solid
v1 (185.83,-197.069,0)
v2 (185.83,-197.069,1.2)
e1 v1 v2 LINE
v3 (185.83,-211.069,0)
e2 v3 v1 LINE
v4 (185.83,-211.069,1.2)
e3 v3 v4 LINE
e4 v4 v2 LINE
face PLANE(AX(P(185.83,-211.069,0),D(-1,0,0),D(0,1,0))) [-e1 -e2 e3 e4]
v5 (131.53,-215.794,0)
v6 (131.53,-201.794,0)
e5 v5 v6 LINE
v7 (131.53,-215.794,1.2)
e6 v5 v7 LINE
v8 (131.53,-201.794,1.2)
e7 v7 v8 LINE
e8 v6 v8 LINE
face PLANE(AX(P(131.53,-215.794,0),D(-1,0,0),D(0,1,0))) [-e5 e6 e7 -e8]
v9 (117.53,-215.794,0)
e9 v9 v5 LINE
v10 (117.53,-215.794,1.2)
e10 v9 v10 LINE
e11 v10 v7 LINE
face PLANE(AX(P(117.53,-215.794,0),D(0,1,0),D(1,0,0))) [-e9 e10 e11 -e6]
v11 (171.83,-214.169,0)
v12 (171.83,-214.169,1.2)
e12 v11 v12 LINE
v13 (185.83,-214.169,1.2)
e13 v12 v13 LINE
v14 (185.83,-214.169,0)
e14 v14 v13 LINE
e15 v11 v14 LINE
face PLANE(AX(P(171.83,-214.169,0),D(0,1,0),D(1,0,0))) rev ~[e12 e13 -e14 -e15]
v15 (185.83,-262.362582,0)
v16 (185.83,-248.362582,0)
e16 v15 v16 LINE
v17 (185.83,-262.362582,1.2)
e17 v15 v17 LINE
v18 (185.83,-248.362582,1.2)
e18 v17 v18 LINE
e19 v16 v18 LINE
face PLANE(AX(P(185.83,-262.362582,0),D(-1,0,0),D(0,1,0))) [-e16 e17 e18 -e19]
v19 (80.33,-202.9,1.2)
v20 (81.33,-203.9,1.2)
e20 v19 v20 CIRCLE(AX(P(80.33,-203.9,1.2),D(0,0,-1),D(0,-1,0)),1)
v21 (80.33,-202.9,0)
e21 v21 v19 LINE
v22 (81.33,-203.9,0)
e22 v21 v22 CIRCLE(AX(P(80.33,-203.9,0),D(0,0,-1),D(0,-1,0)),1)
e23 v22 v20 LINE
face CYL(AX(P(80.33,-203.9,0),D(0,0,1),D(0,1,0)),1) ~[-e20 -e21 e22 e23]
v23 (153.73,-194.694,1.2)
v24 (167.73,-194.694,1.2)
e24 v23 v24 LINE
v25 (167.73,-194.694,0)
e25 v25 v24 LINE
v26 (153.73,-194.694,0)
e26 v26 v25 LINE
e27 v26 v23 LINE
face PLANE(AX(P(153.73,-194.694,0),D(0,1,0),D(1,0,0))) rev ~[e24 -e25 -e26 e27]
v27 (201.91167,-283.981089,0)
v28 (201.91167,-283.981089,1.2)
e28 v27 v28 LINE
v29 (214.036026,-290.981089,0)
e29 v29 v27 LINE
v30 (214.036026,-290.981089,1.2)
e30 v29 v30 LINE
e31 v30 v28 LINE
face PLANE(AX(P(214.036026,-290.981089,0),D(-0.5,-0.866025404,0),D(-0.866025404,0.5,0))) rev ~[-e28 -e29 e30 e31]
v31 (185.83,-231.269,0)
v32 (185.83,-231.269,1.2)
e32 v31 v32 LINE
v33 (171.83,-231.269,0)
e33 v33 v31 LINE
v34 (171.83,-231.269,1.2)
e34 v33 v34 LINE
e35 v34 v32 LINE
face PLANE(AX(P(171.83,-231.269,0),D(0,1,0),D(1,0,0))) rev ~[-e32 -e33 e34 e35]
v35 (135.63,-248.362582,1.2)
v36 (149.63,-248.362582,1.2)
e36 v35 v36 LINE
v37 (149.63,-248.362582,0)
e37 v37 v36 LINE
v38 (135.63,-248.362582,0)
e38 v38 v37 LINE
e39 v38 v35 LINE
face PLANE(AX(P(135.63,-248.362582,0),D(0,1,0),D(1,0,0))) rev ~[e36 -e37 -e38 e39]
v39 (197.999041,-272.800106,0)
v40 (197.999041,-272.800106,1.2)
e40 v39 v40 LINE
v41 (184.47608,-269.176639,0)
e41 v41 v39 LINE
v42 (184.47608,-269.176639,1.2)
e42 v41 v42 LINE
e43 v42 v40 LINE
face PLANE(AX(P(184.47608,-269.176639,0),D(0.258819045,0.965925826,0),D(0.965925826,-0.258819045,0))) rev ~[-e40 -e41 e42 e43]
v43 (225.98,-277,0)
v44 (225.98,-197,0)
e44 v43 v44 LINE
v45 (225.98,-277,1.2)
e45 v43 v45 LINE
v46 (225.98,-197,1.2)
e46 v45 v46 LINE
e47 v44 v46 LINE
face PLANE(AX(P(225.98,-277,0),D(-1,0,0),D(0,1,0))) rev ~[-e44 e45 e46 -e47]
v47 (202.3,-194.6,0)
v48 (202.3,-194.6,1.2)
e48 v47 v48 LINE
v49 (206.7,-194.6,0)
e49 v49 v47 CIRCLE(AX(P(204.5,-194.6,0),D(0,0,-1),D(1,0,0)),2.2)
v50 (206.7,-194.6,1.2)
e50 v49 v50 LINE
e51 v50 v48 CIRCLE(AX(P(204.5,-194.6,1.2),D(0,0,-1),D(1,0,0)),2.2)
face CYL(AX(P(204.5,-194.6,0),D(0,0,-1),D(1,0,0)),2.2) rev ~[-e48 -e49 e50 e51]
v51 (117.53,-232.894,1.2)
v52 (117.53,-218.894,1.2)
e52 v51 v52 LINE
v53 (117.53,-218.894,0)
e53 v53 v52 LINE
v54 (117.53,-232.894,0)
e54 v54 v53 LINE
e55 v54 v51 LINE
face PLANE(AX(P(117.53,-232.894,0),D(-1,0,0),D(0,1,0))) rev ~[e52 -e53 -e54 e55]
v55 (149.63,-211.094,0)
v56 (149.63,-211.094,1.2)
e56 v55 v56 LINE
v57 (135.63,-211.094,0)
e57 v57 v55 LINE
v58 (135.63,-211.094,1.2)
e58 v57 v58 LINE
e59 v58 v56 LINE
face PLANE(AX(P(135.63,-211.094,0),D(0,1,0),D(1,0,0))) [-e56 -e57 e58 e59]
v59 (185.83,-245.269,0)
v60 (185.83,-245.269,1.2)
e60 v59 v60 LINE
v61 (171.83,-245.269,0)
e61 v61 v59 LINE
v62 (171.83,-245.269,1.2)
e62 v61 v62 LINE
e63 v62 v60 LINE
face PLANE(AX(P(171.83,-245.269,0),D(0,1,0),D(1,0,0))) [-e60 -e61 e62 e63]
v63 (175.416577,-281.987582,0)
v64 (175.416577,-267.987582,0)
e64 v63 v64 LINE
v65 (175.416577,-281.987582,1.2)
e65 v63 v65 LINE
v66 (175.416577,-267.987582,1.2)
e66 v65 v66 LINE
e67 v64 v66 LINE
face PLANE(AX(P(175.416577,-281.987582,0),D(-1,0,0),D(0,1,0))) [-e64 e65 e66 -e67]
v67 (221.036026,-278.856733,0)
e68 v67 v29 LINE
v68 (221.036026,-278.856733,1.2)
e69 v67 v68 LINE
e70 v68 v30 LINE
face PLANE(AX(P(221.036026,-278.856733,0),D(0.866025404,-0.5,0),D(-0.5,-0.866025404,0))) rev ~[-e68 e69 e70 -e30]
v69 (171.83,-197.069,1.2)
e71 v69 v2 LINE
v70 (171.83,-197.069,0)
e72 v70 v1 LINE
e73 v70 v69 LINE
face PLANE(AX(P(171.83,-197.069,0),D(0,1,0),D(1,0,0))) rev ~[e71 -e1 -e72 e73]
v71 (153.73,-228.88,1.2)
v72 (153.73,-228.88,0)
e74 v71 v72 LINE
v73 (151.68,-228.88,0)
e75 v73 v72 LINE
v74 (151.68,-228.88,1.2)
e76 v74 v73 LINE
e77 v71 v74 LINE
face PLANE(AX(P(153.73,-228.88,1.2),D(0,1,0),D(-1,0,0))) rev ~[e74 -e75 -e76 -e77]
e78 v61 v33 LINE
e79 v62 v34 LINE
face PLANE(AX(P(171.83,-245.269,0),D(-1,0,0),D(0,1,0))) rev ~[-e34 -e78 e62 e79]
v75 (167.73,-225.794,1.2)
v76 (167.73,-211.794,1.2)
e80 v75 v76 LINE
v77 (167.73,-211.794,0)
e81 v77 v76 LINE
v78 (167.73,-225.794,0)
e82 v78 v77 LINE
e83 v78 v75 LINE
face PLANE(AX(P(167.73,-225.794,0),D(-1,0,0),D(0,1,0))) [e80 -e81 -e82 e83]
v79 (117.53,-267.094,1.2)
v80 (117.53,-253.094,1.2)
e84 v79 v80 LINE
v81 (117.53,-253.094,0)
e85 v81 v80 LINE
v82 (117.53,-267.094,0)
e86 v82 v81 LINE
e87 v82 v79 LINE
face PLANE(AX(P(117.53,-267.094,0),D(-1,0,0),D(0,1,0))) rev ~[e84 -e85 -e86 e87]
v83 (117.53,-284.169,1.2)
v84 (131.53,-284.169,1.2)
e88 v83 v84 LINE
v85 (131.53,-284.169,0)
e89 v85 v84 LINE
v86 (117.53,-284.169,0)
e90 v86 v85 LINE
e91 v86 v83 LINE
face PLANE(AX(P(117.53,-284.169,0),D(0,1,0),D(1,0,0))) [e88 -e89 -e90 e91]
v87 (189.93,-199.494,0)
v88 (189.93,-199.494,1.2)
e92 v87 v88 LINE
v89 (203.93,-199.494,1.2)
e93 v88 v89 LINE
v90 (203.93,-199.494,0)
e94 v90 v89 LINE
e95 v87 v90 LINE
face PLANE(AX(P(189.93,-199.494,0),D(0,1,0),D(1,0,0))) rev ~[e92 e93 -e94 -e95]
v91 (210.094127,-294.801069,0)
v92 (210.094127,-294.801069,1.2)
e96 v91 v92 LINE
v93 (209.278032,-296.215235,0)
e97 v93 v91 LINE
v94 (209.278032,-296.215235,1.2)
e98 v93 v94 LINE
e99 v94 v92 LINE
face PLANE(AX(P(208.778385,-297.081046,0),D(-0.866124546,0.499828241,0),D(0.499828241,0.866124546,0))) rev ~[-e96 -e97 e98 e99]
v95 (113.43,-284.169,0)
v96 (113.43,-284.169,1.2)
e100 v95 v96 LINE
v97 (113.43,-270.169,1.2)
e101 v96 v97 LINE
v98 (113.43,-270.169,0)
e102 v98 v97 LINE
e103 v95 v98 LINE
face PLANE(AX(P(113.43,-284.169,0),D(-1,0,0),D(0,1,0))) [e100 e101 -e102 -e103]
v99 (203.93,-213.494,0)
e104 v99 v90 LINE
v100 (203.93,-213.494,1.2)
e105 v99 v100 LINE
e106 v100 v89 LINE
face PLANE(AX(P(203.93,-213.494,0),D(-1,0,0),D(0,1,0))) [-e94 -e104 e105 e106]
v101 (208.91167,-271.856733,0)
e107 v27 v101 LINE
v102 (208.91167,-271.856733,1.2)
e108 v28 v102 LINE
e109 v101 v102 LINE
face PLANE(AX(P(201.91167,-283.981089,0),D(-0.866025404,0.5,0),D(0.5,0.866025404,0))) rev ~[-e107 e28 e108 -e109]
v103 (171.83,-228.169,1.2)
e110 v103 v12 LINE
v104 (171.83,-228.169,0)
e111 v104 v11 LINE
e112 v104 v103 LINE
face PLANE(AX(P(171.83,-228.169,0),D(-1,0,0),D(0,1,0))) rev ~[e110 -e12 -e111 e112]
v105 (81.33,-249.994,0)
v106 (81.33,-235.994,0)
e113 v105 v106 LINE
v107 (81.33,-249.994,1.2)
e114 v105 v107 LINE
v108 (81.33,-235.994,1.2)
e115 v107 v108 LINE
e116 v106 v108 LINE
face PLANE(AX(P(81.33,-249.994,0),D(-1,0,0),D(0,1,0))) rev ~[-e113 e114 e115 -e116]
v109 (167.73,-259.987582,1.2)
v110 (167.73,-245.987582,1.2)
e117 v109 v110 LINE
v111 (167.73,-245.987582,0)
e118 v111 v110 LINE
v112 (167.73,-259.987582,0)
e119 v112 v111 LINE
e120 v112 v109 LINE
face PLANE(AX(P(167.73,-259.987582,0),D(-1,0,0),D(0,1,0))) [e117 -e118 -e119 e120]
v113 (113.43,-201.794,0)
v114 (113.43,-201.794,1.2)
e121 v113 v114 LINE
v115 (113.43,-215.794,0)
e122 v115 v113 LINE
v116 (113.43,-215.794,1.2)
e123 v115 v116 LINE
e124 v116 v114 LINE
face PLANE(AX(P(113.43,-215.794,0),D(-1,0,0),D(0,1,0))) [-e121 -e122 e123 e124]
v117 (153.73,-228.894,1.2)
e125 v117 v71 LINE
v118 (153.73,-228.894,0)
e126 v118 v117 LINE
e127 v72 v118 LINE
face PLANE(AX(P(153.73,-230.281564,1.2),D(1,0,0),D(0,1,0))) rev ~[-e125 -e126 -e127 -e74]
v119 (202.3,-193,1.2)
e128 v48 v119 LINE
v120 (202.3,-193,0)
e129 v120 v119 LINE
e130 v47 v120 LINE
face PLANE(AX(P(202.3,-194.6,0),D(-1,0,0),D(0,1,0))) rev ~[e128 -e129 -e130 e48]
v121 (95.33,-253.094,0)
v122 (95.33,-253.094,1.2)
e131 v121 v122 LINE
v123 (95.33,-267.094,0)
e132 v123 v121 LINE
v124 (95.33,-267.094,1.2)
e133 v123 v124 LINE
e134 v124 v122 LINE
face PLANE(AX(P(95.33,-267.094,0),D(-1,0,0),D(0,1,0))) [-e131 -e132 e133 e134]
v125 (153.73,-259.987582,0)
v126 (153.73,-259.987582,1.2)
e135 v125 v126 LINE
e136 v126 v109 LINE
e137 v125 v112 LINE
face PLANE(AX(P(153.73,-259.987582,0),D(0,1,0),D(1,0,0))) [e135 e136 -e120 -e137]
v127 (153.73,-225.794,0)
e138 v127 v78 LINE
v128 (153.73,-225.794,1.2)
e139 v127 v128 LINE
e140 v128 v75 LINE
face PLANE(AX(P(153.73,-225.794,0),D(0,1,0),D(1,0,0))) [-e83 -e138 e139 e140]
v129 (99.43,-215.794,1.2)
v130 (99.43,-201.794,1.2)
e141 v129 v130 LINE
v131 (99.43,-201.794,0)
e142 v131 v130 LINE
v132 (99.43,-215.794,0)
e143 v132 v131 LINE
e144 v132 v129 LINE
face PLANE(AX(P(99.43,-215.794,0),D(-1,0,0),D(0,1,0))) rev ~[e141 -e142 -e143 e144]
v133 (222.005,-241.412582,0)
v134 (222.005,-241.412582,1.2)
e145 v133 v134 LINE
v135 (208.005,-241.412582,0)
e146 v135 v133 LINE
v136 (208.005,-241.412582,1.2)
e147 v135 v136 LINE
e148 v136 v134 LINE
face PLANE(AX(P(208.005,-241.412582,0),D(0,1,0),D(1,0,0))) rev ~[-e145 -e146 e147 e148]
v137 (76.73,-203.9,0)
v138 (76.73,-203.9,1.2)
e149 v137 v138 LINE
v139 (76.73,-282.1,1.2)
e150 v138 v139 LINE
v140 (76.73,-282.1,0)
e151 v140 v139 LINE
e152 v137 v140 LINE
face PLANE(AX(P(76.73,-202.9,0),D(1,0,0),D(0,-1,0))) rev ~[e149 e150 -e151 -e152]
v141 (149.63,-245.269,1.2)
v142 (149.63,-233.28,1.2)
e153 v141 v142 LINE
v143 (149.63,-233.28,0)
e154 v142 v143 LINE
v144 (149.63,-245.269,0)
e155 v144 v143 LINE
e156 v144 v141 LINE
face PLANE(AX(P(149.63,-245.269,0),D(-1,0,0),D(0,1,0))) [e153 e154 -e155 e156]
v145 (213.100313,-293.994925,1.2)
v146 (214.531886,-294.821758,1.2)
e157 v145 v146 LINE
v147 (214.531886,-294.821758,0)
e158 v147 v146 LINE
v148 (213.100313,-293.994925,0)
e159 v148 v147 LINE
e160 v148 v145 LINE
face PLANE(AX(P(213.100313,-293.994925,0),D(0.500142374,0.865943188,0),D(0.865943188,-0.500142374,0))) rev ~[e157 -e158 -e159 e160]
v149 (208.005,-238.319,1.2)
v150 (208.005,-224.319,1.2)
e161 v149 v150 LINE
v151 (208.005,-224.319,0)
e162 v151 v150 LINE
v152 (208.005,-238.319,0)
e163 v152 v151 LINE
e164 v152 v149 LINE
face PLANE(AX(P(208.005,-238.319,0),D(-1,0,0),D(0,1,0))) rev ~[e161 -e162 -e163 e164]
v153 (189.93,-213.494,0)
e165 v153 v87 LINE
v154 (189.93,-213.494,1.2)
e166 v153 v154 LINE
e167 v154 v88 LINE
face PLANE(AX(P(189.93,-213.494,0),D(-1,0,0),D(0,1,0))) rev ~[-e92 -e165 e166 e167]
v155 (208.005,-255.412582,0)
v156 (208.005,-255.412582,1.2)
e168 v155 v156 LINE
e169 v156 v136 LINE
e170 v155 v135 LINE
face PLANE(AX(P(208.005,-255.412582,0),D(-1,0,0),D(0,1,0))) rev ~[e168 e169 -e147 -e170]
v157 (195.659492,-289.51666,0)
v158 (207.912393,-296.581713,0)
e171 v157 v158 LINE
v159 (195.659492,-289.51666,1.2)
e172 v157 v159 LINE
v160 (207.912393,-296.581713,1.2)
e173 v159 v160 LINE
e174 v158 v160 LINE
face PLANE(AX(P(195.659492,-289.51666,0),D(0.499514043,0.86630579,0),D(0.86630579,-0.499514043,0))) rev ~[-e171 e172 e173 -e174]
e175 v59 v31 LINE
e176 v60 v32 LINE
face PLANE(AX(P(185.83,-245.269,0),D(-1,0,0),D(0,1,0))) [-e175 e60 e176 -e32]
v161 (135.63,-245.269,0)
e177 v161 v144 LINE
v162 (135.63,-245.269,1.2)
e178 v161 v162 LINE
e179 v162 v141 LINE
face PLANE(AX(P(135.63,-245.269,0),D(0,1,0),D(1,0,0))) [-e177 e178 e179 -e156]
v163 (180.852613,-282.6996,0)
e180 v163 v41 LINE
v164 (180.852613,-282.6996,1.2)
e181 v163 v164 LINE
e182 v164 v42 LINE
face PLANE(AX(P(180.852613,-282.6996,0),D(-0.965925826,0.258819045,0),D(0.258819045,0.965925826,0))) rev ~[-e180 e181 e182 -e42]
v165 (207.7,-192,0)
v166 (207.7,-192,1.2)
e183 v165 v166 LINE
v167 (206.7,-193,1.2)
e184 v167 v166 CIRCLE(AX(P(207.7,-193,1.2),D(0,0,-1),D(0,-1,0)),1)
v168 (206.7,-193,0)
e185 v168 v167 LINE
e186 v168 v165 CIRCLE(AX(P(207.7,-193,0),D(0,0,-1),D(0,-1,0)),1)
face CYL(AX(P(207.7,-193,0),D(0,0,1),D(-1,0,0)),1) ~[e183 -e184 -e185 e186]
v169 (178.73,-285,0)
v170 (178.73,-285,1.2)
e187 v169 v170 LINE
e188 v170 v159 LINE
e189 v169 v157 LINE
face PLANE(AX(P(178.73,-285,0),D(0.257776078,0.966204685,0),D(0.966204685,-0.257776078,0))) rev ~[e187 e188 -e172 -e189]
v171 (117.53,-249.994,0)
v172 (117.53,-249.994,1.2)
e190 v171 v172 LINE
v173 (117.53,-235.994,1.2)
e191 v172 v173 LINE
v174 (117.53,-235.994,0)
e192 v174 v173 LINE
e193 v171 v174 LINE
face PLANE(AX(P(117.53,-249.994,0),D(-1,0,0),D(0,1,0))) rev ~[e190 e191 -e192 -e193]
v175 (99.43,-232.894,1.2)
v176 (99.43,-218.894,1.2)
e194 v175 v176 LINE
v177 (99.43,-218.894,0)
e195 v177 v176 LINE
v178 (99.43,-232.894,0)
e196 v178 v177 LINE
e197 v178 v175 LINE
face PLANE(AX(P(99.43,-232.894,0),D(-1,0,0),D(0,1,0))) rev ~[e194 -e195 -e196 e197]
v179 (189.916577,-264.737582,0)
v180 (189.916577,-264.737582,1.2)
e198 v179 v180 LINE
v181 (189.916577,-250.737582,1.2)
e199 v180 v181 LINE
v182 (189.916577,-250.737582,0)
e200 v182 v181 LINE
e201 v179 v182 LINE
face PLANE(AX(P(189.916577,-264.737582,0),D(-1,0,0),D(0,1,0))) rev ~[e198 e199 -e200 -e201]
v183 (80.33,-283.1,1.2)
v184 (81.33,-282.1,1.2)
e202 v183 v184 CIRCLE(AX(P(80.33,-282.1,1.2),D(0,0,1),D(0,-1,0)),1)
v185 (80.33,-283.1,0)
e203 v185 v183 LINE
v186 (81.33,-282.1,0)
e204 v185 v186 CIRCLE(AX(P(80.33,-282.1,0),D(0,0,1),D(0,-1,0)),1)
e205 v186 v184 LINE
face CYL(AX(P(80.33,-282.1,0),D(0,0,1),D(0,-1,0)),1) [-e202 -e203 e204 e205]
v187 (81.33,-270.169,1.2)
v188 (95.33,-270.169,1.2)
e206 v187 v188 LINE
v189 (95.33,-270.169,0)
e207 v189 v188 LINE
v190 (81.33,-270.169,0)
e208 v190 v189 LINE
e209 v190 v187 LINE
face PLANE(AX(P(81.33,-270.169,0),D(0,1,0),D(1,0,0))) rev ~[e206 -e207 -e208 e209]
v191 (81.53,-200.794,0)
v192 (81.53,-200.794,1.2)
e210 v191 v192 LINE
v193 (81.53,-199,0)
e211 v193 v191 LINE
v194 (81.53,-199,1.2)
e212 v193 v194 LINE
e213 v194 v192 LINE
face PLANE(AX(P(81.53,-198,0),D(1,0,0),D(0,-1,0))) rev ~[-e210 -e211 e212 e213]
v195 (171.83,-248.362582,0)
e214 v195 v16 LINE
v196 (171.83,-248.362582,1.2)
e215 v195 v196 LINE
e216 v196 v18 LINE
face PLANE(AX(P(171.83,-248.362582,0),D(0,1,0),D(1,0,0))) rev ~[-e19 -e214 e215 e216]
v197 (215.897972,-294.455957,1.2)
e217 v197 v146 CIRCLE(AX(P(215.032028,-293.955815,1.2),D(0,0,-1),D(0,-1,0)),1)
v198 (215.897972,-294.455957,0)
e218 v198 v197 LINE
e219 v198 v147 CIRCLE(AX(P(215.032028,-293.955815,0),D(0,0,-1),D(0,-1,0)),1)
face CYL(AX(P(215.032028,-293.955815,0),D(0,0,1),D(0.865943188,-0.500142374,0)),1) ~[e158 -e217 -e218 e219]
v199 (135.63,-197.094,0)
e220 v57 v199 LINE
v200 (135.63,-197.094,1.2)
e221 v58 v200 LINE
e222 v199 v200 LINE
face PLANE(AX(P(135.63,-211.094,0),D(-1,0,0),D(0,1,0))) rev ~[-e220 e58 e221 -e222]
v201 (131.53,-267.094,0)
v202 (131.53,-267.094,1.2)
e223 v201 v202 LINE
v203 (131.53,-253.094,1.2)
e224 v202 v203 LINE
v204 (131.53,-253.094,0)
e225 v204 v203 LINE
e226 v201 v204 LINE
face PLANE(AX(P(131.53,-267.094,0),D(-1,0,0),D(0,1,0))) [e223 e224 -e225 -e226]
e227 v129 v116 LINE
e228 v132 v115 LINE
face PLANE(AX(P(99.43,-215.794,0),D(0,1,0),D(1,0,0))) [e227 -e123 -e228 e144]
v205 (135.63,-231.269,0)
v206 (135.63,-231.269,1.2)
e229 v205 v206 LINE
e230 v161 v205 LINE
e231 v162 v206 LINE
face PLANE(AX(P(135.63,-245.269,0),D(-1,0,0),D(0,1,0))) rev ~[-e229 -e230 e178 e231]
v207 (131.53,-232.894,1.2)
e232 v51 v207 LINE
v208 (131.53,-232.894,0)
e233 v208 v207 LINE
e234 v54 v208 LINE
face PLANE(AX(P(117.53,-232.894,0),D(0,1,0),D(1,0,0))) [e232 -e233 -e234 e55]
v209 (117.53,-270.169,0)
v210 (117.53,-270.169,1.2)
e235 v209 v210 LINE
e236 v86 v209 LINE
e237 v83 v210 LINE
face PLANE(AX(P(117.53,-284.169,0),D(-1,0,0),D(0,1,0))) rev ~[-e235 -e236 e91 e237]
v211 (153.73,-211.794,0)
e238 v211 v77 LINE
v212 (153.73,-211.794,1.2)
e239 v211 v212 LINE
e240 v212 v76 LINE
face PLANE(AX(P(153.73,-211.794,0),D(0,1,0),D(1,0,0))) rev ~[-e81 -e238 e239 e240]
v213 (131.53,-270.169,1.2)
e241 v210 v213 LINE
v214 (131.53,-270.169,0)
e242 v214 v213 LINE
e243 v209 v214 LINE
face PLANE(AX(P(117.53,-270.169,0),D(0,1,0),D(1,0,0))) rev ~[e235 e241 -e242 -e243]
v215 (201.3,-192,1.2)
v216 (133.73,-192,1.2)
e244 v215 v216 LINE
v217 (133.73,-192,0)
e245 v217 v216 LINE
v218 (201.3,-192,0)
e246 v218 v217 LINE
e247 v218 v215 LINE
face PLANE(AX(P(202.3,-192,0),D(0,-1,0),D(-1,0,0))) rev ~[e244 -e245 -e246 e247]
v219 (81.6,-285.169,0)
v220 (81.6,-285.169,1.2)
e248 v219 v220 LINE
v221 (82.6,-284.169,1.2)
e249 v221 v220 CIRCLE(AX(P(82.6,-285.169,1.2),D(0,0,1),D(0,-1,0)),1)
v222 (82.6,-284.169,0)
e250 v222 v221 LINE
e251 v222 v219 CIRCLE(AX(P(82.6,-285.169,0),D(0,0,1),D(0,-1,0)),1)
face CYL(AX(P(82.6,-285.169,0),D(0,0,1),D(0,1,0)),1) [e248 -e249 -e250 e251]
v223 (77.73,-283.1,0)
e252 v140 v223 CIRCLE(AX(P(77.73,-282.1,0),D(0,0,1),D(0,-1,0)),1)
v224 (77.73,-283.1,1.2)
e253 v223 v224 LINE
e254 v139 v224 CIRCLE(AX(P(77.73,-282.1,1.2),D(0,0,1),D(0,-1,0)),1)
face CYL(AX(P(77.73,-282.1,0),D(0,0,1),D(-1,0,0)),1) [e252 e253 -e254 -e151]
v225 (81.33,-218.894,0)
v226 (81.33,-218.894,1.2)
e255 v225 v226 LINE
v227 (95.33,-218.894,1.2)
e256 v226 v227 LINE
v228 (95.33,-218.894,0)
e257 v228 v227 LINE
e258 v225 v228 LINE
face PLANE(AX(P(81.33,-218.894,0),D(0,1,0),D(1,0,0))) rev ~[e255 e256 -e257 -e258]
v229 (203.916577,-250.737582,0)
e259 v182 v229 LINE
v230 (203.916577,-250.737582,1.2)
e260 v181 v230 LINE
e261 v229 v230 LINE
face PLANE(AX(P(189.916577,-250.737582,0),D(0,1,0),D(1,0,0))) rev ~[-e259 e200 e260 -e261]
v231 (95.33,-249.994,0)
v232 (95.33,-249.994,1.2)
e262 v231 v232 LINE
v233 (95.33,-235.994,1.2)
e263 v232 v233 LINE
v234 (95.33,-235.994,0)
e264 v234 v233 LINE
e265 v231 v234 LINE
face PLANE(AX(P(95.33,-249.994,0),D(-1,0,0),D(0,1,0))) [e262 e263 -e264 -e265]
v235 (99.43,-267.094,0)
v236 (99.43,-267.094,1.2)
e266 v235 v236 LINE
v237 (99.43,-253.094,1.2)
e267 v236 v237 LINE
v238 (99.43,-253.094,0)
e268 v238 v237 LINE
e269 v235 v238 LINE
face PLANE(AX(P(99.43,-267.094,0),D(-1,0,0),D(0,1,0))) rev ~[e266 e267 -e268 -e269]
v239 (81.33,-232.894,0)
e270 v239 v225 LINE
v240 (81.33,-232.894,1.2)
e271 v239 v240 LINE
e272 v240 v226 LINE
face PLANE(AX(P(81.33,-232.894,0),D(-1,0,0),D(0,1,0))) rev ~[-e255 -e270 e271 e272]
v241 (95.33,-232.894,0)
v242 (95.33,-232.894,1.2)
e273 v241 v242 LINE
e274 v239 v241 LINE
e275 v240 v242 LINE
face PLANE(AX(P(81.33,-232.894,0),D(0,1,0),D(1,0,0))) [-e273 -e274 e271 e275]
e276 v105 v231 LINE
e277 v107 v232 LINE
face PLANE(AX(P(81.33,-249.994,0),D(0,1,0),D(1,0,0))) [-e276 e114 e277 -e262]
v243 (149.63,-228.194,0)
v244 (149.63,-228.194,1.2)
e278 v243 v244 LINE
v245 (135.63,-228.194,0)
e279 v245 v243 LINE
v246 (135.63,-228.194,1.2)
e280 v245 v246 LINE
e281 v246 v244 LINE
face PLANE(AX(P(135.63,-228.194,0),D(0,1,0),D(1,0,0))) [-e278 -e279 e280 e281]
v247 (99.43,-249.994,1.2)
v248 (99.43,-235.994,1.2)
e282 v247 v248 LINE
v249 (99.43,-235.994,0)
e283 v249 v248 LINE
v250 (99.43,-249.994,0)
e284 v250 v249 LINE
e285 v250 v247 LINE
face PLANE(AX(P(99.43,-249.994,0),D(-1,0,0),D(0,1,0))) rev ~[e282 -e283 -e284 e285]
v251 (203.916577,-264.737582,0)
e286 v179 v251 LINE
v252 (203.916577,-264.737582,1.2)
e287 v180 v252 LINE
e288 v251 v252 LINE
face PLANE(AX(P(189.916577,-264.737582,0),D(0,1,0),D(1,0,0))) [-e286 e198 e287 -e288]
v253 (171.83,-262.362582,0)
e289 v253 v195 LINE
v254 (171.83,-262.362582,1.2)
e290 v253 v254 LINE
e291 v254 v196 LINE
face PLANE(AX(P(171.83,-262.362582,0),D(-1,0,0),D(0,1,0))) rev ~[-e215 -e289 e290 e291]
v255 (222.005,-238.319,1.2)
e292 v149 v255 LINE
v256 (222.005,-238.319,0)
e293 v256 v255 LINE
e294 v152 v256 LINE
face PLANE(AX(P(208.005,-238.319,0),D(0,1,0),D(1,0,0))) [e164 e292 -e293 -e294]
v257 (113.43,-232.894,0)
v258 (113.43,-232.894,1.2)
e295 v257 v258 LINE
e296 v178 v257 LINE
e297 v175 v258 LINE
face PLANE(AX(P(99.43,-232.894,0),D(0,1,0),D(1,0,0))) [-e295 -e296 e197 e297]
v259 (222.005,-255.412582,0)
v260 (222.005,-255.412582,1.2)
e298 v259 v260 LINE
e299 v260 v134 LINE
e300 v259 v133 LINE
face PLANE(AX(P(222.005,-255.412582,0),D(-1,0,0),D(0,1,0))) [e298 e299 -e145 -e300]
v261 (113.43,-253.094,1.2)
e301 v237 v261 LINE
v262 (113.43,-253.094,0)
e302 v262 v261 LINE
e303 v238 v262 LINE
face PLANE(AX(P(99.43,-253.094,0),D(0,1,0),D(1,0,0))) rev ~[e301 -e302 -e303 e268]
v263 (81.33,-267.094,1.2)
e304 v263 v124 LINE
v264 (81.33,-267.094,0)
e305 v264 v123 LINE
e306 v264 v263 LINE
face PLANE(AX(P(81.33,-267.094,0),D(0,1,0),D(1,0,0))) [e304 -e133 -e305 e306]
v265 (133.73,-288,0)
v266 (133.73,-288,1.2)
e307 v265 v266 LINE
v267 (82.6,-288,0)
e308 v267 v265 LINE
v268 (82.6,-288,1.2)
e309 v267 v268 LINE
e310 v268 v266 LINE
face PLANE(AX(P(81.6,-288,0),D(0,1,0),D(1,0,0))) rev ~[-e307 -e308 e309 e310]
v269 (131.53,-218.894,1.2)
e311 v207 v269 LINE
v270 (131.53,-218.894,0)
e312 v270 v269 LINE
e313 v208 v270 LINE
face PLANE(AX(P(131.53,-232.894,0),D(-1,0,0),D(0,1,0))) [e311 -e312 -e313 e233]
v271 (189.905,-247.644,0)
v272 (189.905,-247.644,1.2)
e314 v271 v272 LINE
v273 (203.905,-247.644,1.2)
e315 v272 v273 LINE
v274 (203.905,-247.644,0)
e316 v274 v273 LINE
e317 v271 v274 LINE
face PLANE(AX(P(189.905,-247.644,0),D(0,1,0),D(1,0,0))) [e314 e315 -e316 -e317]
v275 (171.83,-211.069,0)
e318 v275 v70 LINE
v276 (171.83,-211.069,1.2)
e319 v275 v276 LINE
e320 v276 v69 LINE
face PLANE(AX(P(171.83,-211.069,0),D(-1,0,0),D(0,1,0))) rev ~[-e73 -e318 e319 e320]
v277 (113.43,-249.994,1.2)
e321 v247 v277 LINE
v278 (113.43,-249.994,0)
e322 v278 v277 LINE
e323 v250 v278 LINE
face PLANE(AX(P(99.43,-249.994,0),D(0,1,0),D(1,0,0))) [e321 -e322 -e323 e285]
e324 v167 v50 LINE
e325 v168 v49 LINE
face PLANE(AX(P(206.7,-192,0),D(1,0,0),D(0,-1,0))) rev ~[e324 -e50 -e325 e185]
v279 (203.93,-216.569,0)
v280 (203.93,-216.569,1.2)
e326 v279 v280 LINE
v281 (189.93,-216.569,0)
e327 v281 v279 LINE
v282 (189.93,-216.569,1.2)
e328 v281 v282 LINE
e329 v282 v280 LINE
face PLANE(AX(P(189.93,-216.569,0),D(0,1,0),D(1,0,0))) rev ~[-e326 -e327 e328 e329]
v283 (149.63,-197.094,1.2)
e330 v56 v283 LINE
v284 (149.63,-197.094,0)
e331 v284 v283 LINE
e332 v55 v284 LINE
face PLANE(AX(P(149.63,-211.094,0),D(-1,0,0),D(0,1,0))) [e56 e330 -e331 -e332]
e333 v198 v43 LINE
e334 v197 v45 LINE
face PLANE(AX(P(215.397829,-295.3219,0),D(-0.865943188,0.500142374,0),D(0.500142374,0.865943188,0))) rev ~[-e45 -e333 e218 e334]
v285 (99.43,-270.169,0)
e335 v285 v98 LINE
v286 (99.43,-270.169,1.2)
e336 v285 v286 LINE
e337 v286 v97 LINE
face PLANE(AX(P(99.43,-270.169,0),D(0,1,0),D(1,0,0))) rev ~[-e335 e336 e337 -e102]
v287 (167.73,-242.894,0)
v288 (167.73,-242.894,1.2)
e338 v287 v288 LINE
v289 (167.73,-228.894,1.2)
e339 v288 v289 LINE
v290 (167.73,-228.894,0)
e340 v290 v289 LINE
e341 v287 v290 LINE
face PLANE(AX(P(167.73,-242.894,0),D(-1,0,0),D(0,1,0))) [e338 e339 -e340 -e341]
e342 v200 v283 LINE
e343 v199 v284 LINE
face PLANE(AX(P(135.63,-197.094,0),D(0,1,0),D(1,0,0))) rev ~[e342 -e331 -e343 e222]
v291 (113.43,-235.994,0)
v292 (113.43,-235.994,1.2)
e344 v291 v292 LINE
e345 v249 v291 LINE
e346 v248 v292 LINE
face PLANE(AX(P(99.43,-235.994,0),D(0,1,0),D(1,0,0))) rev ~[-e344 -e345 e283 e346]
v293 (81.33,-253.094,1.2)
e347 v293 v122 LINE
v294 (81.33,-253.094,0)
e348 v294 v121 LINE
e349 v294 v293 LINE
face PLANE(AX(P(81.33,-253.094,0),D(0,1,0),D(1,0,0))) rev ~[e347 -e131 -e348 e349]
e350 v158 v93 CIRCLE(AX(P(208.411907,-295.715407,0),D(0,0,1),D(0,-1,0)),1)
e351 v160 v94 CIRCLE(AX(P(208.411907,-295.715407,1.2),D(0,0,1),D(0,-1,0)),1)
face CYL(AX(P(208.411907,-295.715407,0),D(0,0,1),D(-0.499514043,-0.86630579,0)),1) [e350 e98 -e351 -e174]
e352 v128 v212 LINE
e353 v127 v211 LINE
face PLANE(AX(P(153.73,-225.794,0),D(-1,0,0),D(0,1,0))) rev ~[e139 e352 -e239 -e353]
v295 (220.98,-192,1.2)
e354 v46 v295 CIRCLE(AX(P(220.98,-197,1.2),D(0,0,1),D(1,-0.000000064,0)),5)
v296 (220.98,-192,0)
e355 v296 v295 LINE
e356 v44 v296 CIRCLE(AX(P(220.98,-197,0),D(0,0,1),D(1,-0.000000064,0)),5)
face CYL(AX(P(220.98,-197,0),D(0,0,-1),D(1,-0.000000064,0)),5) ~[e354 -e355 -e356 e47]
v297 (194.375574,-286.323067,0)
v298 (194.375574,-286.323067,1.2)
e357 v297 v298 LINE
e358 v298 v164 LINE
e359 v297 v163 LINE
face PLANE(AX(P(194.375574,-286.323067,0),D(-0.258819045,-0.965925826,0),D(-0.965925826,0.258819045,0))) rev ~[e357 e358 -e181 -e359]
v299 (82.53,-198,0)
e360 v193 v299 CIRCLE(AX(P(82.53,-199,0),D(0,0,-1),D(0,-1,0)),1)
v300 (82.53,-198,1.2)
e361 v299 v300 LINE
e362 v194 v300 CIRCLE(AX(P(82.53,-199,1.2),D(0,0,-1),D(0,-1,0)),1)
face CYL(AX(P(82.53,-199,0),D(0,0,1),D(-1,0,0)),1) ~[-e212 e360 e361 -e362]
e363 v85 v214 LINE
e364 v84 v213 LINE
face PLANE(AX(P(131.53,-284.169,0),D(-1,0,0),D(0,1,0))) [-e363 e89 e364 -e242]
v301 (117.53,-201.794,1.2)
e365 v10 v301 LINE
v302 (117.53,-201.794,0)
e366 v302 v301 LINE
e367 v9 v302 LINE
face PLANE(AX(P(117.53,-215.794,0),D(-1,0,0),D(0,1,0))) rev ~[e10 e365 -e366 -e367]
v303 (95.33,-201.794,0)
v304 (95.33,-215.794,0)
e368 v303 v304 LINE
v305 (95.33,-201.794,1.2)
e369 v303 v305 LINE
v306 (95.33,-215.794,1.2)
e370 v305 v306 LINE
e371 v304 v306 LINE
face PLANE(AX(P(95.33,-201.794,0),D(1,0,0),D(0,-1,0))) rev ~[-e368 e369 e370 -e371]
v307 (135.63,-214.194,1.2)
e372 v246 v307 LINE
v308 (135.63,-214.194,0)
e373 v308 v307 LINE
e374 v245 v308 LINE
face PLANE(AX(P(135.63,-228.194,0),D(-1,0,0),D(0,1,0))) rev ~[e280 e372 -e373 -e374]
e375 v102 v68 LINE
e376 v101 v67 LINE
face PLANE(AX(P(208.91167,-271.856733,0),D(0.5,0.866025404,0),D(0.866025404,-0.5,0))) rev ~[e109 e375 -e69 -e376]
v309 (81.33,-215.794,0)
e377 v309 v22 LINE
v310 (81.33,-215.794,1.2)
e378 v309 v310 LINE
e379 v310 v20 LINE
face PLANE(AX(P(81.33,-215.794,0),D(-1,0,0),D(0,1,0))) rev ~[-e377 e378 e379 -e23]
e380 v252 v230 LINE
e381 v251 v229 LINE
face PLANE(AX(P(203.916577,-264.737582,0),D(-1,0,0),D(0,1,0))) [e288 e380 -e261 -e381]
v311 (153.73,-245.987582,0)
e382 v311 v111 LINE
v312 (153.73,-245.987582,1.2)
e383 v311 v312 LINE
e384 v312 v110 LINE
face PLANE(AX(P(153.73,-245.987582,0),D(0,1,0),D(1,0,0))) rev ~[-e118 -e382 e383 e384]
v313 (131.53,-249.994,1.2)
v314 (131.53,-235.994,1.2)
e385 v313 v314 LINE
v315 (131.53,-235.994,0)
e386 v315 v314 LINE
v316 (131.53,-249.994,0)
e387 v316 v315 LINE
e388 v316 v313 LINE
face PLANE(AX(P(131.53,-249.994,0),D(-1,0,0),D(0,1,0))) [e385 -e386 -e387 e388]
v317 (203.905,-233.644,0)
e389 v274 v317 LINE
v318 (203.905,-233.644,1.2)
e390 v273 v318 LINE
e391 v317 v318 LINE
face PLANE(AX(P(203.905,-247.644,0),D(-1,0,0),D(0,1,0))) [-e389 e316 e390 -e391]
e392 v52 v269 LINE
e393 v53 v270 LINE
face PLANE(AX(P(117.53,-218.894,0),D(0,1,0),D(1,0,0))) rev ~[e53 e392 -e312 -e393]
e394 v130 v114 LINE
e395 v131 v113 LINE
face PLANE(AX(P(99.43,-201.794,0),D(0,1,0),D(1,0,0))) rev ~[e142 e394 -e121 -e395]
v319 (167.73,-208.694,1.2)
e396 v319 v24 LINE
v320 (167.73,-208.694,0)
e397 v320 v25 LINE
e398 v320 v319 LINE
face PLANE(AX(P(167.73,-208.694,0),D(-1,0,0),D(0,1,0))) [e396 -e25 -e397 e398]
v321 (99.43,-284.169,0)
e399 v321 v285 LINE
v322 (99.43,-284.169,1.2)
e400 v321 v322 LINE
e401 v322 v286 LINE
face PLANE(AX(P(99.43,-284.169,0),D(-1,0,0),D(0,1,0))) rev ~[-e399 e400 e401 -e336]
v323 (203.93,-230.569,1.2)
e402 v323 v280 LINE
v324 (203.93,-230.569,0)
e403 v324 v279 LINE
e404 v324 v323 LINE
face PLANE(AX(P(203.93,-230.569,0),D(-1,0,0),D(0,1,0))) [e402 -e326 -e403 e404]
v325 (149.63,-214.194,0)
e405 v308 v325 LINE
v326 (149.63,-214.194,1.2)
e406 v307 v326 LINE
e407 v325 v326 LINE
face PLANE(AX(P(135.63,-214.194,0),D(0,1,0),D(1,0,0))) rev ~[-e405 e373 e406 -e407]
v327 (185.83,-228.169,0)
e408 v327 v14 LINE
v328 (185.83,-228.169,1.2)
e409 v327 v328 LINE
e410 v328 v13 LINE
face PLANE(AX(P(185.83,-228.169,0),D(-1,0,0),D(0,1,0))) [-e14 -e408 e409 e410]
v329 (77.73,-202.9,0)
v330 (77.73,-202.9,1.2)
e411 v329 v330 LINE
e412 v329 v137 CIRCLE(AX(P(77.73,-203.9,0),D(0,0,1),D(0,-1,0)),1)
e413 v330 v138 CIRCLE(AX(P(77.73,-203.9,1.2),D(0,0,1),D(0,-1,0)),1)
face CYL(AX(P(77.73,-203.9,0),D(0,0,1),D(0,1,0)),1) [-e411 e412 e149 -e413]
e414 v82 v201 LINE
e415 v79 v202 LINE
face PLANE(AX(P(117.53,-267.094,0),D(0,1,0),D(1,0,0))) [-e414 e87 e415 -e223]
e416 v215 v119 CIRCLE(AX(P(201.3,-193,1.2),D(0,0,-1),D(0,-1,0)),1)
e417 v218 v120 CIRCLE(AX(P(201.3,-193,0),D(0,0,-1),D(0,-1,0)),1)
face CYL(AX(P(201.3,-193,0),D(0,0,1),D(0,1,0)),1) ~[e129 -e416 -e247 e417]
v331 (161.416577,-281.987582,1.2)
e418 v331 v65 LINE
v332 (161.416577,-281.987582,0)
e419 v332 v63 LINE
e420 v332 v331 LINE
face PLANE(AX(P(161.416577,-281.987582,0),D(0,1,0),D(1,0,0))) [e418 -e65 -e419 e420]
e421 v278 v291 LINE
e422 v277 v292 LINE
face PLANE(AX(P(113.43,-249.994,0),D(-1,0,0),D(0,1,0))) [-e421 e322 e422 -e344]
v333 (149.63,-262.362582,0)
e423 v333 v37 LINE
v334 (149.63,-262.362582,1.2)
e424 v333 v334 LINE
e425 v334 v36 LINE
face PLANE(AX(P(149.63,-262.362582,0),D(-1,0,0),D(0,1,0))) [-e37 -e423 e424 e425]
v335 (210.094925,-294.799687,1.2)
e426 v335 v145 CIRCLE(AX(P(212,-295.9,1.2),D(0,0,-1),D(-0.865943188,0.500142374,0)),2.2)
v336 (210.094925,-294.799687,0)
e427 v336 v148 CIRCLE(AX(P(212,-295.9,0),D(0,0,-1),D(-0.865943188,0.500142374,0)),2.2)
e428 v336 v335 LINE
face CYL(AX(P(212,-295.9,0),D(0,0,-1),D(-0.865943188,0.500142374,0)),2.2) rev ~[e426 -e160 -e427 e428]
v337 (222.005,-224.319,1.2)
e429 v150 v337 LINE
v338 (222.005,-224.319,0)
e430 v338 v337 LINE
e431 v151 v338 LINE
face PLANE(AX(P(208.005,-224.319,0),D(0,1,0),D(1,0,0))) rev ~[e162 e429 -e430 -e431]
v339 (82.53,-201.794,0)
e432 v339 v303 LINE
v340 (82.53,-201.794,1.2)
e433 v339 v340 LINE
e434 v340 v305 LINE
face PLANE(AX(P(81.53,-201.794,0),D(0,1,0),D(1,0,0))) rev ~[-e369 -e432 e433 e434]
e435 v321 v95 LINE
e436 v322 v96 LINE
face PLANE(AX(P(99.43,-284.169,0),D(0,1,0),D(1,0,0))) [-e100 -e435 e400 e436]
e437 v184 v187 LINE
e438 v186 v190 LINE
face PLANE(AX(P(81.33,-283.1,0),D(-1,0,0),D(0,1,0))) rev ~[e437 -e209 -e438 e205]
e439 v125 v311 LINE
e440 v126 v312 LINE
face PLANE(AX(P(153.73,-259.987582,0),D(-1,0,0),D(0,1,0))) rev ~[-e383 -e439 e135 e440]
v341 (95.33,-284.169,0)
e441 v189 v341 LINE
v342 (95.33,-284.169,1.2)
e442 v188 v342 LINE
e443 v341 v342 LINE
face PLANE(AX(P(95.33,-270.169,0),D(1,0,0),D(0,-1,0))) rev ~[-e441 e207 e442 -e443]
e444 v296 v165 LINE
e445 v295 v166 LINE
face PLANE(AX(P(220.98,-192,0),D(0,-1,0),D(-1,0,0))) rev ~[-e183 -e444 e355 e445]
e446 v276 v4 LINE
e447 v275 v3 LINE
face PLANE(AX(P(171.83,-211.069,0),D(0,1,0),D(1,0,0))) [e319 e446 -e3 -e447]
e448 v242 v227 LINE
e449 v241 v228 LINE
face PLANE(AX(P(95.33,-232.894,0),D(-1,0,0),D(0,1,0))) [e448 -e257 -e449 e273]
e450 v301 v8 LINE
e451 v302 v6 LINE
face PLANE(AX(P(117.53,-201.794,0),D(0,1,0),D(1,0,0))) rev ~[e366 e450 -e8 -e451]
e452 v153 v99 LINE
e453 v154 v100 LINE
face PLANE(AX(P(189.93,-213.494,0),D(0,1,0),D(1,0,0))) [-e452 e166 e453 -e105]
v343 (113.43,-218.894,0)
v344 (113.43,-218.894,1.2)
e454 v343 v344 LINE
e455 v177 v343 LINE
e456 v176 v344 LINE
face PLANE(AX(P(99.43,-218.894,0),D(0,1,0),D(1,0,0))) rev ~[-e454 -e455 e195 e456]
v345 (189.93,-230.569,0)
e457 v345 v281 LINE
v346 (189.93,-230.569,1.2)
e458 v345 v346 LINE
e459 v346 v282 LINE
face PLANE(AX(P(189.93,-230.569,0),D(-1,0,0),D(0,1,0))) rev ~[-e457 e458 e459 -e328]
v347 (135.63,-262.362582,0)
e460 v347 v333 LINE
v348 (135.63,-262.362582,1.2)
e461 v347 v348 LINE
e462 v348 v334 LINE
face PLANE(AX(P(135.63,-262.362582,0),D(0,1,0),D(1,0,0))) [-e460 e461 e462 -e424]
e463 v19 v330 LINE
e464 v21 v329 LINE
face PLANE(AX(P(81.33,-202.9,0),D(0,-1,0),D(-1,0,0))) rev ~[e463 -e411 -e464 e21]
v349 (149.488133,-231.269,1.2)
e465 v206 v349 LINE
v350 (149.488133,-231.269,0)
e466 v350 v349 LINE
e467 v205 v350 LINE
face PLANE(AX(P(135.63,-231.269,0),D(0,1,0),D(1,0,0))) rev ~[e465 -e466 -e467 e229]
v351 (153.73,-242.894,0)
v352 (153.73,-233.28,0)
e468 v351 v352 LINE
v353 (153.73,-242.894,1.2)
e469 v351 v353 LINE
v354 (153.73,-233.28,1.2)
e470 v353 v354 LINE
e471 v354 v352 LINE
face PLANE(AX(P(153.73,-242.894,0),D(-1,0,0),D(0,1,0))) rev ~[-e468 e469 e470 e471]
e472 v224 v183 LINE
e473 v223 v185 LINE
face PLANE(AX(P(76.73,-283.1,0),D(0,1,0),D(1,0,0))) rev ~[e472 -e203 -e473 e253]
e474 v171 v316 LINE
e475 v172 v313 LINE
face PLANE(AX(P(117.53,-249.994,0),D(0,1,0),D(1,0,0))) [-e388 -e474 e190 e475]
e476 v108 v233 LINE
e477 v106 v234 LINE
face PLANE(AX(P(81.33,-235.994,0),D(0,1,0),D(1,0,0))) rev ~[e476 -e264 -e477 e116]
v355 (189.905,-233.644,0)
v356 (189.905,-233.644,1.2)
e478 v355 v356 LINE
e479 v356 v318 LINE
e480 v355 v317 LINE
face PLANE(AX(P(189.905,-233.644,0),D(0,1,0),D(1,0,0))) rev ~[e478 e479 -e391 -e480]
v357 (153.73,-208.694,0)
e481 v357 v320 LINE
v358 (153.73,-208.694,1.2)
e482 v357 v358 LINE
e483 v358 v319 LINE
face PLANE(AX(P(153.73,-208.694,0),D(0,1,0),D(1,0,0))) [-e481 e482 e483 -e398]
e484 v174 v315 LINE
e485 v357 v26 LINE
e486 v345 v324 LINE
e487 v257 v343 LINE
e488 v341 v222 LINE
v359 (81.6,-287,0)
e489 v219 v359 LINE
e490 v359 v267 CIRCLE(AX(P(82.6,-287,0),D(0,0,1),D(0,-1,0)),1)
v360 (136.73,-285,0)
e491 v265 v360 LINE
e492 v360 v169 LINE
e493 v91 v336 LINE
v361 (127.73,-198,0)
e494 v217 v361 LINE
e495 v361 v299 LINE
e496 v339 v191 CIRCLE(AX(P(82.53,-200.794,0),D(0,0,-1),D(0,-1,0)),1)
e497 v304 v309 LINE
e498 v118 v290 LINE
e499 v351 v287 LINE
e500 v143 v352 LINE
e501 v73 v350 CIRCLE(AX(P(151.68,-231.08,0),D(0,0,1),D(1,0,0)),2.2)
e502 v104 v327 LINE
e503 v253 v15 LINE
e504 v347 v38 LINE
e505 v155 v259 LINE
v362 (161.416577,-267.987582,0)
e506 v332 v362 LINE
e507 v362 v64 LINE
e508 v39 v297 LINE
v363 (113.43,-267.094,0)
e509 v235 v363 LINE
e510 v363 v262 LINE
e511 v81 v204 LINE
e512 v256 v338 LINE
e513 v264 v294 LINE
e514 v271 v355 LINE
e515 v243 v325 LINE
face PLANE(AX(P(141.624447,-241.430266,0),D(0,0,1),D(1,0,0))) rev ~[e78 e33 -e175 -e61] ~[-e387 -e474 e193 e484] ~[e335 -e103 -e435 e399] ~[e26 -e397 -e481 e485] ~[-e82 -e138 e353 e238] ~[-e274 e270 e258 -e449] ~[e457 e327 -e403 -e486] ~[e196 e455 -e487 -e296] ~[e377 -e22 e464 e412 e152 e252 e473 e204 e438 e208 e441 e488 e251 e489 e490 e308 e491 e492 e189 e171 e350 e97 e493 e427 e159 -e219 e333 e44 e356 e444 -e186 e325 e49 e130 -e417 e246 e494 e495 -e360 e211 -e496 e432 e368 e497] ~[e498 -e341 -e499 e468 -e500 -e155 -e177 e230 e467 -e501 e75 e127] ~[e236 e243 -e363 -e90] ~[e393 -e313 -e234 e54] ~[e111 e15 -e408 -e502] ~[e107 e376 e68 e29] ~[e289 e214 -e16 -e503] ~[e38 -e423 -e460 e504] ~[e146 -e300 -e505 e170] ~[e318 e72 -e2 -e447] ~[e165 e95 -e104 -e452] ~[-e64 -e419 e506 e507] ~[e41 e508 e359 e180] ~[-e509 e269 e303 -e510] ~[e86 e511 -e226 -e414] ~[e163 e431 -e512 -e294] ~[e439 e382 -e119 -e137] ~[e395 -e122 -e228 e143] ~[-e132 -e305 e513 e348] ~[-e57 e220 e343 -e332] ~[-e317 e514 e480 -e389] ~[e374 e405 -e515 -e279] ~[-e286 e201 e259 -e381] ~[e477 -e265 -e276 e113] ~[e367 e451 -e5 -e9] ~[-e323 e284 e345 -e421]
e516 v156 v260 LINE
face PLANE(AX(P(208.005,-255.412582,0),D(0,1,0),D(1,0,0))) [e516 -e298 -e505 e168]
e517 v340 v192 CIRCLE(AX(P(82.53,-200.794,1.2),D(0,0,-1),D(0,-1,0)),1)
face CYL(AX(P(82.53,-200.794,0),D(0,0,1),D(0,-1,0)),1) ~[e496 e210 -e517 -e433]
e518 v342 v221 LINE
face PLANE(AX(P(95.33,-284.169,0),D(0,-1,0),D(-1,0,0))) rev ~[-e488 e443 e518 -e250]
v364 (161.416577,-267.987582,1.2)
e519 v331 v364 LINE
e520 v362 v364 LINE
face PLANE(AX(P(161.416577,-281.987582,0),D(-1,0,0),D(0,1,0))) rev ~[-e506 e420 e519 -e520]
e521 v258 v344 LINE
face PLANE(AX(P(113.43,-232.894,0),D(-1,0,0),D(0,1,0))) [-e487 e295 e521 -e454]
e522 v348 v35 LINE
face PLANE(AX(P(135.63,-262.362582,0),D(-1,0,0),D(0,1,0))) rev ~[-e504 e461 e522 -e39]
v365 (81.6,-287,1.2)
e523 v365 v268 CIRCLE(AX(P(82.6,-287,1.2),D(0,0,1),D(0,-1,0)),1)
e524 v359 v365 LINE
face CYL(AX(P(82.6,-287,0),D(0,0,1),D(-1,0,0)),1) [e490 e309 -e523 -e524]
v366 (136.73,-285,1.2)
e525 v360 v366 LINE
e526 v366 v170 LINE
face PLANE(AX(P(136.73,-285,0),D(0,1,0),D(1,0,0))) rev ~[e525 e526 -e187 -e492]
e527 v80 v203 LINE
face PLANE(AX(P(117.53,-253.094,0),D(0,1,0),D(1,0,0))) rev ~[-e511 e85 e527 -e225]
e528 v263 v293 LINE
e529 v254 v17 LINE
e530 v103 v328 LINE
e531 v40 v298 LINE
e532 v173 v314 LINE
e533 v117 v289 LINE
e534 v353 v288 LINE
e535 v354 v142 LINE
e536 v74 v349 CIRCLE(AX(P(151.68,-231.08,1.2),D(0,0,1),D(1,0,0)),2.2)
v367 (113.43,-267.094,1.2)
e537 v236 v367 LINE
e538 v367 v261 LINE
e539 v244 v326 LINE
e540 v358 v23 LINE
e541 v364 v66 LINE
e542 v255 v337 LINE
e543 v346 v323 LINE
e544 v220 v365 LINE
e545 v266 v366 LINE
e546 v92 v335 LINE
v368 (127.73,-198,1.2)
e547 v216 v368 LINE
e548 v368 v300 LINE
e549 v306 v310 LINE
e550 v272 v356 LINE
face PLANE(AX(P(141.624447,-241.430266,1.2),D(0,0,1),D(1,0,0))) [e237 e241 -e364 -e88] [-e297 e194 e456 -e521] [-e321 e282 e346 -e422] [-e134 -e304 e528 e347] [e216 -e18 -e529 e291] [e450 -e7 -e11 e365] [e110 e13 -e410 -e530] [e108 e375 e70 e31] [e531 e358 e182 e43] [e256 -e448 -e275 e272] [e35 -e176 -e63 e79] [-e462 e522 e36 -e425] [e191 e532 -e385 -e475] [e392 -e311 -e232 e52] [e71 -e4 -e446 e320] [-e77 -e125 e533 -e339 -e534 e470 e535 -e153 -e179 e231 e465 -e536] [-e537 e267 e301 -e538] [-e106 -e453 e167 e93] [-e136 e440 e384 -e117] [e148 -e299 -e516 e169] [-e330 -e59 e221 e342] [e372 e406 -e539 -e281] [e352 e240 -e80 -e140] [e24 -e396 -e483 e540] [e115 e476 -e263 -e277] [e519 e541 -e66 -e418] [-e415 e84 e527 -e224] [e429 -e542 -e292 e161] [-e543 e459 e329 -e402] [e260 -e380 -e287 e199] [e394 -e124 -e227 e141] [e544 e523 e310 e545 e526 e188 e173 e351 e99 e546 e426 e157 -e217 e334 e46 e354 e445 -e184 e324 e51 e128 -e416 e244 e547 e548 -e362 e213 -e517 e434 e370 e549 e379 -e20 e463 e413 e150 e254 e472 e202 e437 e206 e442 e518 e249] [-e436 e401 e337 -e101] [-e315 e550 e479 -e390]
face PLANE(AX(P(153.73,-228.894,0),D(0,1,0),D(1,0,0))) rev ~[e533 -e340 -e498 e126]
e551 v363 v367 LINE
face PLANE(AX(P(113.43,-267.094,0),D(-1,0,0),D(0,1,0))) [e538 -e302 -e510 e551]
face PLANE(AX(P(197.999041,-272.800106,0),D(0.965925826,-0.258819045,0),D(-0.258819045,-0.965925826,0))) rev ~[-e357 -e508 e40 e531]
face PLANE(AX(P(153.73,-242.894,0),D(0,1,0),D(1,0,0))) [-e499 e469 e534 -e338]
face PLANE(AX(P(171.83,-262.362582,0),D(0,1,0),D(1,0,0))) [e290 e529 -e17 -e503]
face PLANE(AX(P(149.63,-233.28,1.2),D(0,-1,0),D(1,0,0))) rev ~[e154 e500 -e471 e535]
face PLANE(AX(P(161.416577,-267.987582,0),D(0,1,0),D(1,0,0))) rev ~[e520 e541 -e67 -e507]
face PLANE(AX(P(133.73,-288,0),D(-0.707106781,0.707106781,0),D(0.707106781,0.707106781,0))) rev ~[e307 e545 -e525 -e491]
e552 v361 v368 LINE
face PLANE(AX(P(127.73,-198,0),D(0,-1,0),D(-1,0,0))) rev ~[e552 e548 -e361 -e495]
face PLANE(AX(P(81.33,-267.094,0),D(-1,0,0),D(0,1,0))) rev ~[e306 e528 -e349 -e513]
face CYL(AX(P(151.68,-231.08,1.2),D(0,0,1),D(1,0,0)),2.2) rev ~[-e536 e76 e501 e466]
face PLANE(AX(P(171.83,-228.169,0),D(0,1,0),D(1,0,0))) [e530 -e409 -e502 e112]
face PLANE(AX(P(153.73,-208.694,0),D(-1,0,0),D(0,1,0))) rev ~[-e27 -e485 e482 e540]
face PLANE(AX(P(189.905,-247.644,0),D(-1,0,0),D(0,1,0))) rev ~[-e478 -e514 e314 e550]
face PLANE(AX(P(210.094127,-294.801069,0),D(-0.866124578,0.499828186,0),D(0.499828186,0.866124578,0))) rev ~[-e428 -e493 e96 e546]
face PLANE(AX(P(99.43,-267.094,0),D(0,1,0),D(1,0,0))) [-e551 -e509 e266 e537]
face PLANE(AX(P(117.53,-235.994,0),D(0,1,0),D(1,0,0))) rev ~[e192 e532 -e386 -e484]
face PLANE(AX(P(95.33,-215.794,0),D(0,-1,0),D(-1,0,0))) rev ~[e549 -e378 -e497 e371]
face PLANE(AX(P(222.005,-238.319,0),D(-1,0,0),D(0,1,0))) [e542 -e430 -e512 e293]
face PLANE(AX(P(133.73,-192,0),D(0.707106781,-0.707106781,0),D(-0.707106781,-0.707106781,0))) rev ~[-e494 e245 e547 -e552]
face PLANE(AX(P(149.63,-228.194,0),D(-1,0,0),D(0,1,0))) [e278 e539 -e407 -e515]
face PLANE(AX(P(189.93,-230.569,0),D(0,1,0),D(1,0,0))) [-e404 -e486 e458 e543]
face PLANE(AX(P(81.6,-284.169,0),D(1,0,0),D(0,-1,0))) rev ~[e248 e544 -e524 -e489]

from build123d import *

# Parameters (mm, degrees)
SKETCH1_W           = 14
SKETCH1_H           = 14
BOSS_EXTRUDE2_DEPTH = 1.2
FILLET1_R           = 1
CUT_EXTRUDE2_REACH  = 3.2
SKETCH2_R           = 2.2


with BuildPart() as part:
    # Sketch1 → Boss-Extrude2 (new body)
    with BuildSketch(Plane.XY):
        with BuildLine():
            Line((81.33, -202.9), (79.33, -202.9))
            Line((79.33, -202.9), (76.73, -202.9))
            Line((76.73, -202.9), (76.73, -212.03))
            Line((76.73, -212.03), (76.73, -283.1))
            Line((76.73, -283.1), (79.4, -283.1))
            Line((79.4, -283.1), (81.33, -283.1))
            Line((81.33, -283.1), (81.33, -270.169))
            Line((81.33, -270.169), (95.33, -270.169))
            Line((95.33, -270.169), (95.33, -284.169))
            Line((95.33, -284.169), (81.6, -284.169))
            Line((81.6, -284.169), (81.6, -285.300000001))
            Line((81.6, -285.300000001), (81.6, -288.000000001))
            Line((81.6, -288.000000001), (104.85, -288.000000001))
            Line((104.85, -288.000000001), (113.94, -288.000000001))
            Line((113.94, -288.000000001), (133.73, -288.000000001))
            Line((133.73, -288.000000001), (136.73, -285.000000001))
            Line((136.73, -285.000000001), (152.86, -285.000000001))
            Line((152.86, -285.000000001), (161.94, -285.000000001))
            Line((161.94, -285.000000001), (178.73, -285.000000001))
            Line((178.73, -285.000000001), (195.659492, -289.51666))
            Line((195.659492, -289.51666), (208.778384908, -297.081045818))
            Line((208.778384908, -297.081045818), (210.094127263, -294.801069106))
            Line((210.094127263, -294.801069106), (210.094924986, -294.799686776))
            ThreePointArc((210.094924986, -294.799686776), (211.43094748, -293.774869597), (213.100313224, -293.994924986))
            Line((213.100313224, -293.994924986), (215.397829273, -295.321900182))
            Line((215.397829273, -295.321900182), (225.98, -277))
            Line((225.98, -277), (225.98, -256.415))
            Line((225.98, -256.415), (225.98, -247.025))
            Line((225.98, -247.025), (225.98, -214.605))
            Line((225.98, -214.605), (225.98, -205.215))
            Line((225.98, -205.215), (225.98, -197))
            ThreePointArc((225.98, -197), (224.515534, -193.464466), (220.98, -192))
            Line((220.98, -192), (206.7, -192))
            Line((206.7, -192), (206.7, -194.6))
            ThreePointArc((206.7, -194.6), (204.5, -196.8), (202.3, -194.6))
            Line((202.3, -194.6), (202.3, -192))
            Line((202.3, -192), (179.02, -192))
            Line((179.02, -192), (169.96, -192))
            Line((169.96, -192), (136.73, -192))
            Line((136.73, -192), (133.73, -192))
            Line((133.73, -192), (127.73, -198))
            Line((127.73, -198), (108.89, -198))
            Line((108.89, -198), (99.78, -198))
            Line((99.78, -198), (82.73, -198))
            Line((82.73, -198), (81.53, -198))
            Line((81.53, -198), (81.53, -200.7))
            Line((81.53, -200.7), (81.53, -201.794))
            Line((81.53, -201.794), (95.33, -201.794))
            Line((95.33, -201.794), (95.33, -215.794))
            Line((95.33, -215.794), (81.33, -215.794))
            Line((81.33, -215.794), (81.33, -202.9))
        make_face()
        with Locations((106.43, -277.169)):
            Rectangle(SKETCH1_W, SKETCH1_H, mode=Mode.SUBTRACT)
        with Locations((124.53, -277.169)):
            Rectangle(SKETCH1_W, SKETCH1_H, mode=Mode.SUBTRACT)
        with Locations((88.33, -260.094)):
            Rectangle(SKETCH1_W, SKETCH1_H, mode=Mode.SUBTRACT)
        with Locations((106.43, -260.094)):
            Rectangle(SKETCH1_W, SKETCH1_H, mode=Mode.SUBTRACT)
        with Locations((124.53, -260.094)):
            Rectangle(SKETCH1_W, SKETCH1_H, mode=Mode.SUBTRACT)
        with Locations((142.63, -255.362582)):
            Rectangle(SKETCH1_W, SKETCH1_H, mode=Mode.SUBTRACT)
        with Locations((168.416577, -274.987582)):
            Rectangle(SKETCH1_W, SKETCH1_H, mode=Mode.SUBTRACT)
        Polygon((194.375574468, -286.3230671), (180.8526129, -282.699600468), (184.476079532, -269.1766389), (197.9990411, -272.800105532), align=None, mode=Mode.SUBTRACT)
        Polygon((221.036025826, -278.856733174), (214.036025826, -290.981088826), (201.911670174, -283.981088826), (208.911670174, -271.856733174), align=None, mode=Mode.SUBTRACT)
        with Locations((160.73, -252.987582)):
            Rectangle(SKETCH1_W, SKETCH1_H, mode=Mode.SUBTRACT)
        with Locations((178.83, -255.362582)):
            Rectangle(SKETCH1_W, SKETCH1_H, mode=Mode.SUBTRACT)
        with Locations((196.916577, -257.737582)):
            Rectangle(SKETCH1_W, SKETCH1_H, mode=Mode.SUBTRACT)
        with Locations((215.005, -248.412582)):
            Rectangle(SKETCH1_W, SKETCH1_H, mode=Mode.SUBTRACT)
        with Locations((88.33, -242.994)):
            Rectangle(SKETCH1_W, SKETCH1_H, mode=Mode.SUBTRACT)
        with Locations((106.43, -242.994)):
            Rectangle(SKETCH1_W, SKETCH1_H, mode=Mode.SUBTRACT)
        with Locations((88.33, -225.894)):
            Rectangle(SKETCH1_W, SKETCH1_H, mode=Mode.SUBTRACT)
        with Locations((106.43, -225.894)):
            Rectangle(SKETCH1_W, SKETCH1_H, mode=Mode.SUBTRACT)
        with Locations((124.53, -242.994)):
            Rectangle(SKETCH1_W, SKETCH1_H, mode=Mode.SUBTRACT)
        with Locations((142.63, -238.269)):
            Rectangle(SKETCH1_W, SKETCH1_H, mode=Mode.SUBTRACT)
        with Locations((124.53, -225.894)):
            Rectangle(SKETCH1_W, SKETCH1_H, mode=Mode.SUBTRACT)
        with Locations((142.63, -221.194)):
            Rectangle(SKETCH1_W, SKETCH1_H, mode=Mode.SUBTRACT)
        with Locations((106.43, -208.794)):
            Rectangle(SKETCH1_W, SKETCH1_H, mode=Mode.SUBTRACT)
        with Locations((124.53, -208.794)):
            Rectangle(SKETCH1_W, SKETCH1_H, mode=Mode.SUBTRACT)
        with Locations((142.63, -204.094)):
            Rectangle(SKETCH1_W, SKETCH1_H, mode=Mode.SUBTRACT)
        with Locations((160.73, -235.894)):
            Rectangle(SKETCH1_W, SKETCH1_H, mode=Mode.SUBTRACT)
        with Locations((178.83, -238.269)):
            Rectangle(SKETCH1_W, SKETCH1_H, mode=Mode.SUBTRACT)
        with Locations((160.73, -218.794)):
            Rectangle(SKETCH1_W, SKETCH1_H, mode=Mode.SUBTRACT)
        with Locations((178.83, -221.169)):
            Rectangle(SKETCH1_W, SKETCH1_H, mode=Mode.SUBTRACT)
        with Locations((196.905, -240.644)):
            Rectangle(SKETCH1_W, SKETCH1_H, mode=Mode.SUBTRACT)
        with Locations((196.93, -223.569)):
            Rectangle(SKETCH1_W, SKETCH1_H, mode=Mode.SUBTRACT)
        with Locations((215.005, -231.319)):
            Rectangle(SKETCH1_W, SKETCH1_H, mode=Mode.SUBTRACT)
        with Locations((160.73, -201.694)):
            Rectangle(SKETCH1_W, SKETCH1_H, mode=Mode.SUBTRACT)
        with Locations((178.83, -204.069)):
            Rectangle(SKETCH1_W, SKETCH1_H, mode=Mode.SUBTRACT)
        with Locations((196.93, -206.494)):
            Rectangle(SKETCH1_W, SKETCH1_H, mode=Mode.SUBTRACT)
    extrude(amount=BOSS_EXTRUDE2_DEPTH)

    # Fillet1
    fillet1_edges = [part.edges().sort_by_distance(p)[0] for p in [
        (208.778384908, -297.081045818, 0.6),
        (81.6, -288.000000001, 0.6),
        (81.6, -284.169, 0.6),
        (81.33, -283.1, 0.6),
        (76.73, -283.1, 0.6),
        (76.73, -202.9, 0.6),
        (81.33, -202.9, 0.6),
        (81.53, -201.794, 0.6),
        (81.53, -198, 0.6),
        (202.3, -192, 0.6),
        (206.7, -192, 0.6),
        (215.397829273, -295.321900182, 0.6),
    ]]
    fillet(fillet1_edges, radius=FILLET1_R)

    # Sketch2 → Cut-Extrude2 (cut, up to next)
    with BuildSketch(Plane.XY.offset(1.2), mode=Mode.PRIVATE) as cut_extrude2_sk1:
        with BuildLine():
            Line((153.73, -228.88), (151.68, -228.88))
            ThreePointArc((151.68, -228.88), (152.921660353, -229.263883383), (153.73, -230.281564029))
            Line((153.73, -230.281564029), (153.73, -228.894))
            Line((153.73, -228.894), (153.73, -228.88))
        make_face()
    cut_extrude2_tool1 = extrude(cut_extrude2_sk1.sketch, amount=-CUT_EXTRUDE2_REACH, mode=Mode.PRIVATE) & part.part
    add(cut_extrude2_tool1.solids().sort_by_distance((153.255364, -229.260338, 1.2))[0], mode=Mode.SUBTRACT)
    # Sketch2 → Cut-Extrude2 (cut, up to next)
    with BuildSketch(Plane.XY.offset(1.2), mode=Mode.PRIVATE) as cut_extrude2_sk2:
        with Locations((151.68, -231.08)):
            Circle(SKETCH2_R)
    cut_extrude2_tool2 = extrude(cut_extrude2_sk2.sketch, amount=-CUT_EXTRUDE2_REACH, mode=Mode.PRIVATE) & part.part
    add(cut_extrude2_tool2.solids().sort_by_distance((151.68, -231.08, 1.2))[0], mode=Mode.SUBTRACT)
    # Sketch2 → Cut-Extrude2 (cut, up to next)
    with BuildSketch(Plane.XY.offset(1.2), mode=Mode.PRIVATE) as cut_extrude2_sk3:
        with BuildLine():
            ThreePointArc((153.73, -231.878435971), (152.921660353, -232.896116617), (151.68, -233.28))
            Line((151.68, -233.28), (153.73, -233.28))
            Line((153.73, -233.28), (153.73, -231.878435971))
        make_face()
    cut_extrude2_tool3 = extrude(cut_extrude2_sk3.sketch, amount=-CUT_EXTRUDE2_REACH, mode=Mode.PRIVATE) & part.part
    add(cut_extrude2_tool3.solids().sort_by_distance((153.255364, -232.899662, 1.2))[0], mode=Mode.SUBTRACT)
    # Sketch2 → Cut-Extrude2 (cut, up to next)
    with BuildSketch(Plane.XY.offset(1.2), mode=Mode.PRIVATE) as cut_extrude2_sk4:
        with BuildLine():
            ThreePointArc((151.68, -233.28), (150.438339647, -232.896116617), (149.63, -231.878435971))
            Line((149.63, -231.878435971), (149.63, -233.28))
            Line((149.63, -233.28), (151.68, -233.28))
        make_face()
    cut_extrude2_tool4 = extrude(cut_extrude2_sk4.sketch, amount=-CUT_EXTRUDE2_REACH, mode=Mode.PRIVATE) & part.part
    add(cut_extrude2_tool4.solids().sort_by_distance((150.104636, -232.899662, 1.2))[0], mode=Mode.SUBTRACT)


solid = part.part
